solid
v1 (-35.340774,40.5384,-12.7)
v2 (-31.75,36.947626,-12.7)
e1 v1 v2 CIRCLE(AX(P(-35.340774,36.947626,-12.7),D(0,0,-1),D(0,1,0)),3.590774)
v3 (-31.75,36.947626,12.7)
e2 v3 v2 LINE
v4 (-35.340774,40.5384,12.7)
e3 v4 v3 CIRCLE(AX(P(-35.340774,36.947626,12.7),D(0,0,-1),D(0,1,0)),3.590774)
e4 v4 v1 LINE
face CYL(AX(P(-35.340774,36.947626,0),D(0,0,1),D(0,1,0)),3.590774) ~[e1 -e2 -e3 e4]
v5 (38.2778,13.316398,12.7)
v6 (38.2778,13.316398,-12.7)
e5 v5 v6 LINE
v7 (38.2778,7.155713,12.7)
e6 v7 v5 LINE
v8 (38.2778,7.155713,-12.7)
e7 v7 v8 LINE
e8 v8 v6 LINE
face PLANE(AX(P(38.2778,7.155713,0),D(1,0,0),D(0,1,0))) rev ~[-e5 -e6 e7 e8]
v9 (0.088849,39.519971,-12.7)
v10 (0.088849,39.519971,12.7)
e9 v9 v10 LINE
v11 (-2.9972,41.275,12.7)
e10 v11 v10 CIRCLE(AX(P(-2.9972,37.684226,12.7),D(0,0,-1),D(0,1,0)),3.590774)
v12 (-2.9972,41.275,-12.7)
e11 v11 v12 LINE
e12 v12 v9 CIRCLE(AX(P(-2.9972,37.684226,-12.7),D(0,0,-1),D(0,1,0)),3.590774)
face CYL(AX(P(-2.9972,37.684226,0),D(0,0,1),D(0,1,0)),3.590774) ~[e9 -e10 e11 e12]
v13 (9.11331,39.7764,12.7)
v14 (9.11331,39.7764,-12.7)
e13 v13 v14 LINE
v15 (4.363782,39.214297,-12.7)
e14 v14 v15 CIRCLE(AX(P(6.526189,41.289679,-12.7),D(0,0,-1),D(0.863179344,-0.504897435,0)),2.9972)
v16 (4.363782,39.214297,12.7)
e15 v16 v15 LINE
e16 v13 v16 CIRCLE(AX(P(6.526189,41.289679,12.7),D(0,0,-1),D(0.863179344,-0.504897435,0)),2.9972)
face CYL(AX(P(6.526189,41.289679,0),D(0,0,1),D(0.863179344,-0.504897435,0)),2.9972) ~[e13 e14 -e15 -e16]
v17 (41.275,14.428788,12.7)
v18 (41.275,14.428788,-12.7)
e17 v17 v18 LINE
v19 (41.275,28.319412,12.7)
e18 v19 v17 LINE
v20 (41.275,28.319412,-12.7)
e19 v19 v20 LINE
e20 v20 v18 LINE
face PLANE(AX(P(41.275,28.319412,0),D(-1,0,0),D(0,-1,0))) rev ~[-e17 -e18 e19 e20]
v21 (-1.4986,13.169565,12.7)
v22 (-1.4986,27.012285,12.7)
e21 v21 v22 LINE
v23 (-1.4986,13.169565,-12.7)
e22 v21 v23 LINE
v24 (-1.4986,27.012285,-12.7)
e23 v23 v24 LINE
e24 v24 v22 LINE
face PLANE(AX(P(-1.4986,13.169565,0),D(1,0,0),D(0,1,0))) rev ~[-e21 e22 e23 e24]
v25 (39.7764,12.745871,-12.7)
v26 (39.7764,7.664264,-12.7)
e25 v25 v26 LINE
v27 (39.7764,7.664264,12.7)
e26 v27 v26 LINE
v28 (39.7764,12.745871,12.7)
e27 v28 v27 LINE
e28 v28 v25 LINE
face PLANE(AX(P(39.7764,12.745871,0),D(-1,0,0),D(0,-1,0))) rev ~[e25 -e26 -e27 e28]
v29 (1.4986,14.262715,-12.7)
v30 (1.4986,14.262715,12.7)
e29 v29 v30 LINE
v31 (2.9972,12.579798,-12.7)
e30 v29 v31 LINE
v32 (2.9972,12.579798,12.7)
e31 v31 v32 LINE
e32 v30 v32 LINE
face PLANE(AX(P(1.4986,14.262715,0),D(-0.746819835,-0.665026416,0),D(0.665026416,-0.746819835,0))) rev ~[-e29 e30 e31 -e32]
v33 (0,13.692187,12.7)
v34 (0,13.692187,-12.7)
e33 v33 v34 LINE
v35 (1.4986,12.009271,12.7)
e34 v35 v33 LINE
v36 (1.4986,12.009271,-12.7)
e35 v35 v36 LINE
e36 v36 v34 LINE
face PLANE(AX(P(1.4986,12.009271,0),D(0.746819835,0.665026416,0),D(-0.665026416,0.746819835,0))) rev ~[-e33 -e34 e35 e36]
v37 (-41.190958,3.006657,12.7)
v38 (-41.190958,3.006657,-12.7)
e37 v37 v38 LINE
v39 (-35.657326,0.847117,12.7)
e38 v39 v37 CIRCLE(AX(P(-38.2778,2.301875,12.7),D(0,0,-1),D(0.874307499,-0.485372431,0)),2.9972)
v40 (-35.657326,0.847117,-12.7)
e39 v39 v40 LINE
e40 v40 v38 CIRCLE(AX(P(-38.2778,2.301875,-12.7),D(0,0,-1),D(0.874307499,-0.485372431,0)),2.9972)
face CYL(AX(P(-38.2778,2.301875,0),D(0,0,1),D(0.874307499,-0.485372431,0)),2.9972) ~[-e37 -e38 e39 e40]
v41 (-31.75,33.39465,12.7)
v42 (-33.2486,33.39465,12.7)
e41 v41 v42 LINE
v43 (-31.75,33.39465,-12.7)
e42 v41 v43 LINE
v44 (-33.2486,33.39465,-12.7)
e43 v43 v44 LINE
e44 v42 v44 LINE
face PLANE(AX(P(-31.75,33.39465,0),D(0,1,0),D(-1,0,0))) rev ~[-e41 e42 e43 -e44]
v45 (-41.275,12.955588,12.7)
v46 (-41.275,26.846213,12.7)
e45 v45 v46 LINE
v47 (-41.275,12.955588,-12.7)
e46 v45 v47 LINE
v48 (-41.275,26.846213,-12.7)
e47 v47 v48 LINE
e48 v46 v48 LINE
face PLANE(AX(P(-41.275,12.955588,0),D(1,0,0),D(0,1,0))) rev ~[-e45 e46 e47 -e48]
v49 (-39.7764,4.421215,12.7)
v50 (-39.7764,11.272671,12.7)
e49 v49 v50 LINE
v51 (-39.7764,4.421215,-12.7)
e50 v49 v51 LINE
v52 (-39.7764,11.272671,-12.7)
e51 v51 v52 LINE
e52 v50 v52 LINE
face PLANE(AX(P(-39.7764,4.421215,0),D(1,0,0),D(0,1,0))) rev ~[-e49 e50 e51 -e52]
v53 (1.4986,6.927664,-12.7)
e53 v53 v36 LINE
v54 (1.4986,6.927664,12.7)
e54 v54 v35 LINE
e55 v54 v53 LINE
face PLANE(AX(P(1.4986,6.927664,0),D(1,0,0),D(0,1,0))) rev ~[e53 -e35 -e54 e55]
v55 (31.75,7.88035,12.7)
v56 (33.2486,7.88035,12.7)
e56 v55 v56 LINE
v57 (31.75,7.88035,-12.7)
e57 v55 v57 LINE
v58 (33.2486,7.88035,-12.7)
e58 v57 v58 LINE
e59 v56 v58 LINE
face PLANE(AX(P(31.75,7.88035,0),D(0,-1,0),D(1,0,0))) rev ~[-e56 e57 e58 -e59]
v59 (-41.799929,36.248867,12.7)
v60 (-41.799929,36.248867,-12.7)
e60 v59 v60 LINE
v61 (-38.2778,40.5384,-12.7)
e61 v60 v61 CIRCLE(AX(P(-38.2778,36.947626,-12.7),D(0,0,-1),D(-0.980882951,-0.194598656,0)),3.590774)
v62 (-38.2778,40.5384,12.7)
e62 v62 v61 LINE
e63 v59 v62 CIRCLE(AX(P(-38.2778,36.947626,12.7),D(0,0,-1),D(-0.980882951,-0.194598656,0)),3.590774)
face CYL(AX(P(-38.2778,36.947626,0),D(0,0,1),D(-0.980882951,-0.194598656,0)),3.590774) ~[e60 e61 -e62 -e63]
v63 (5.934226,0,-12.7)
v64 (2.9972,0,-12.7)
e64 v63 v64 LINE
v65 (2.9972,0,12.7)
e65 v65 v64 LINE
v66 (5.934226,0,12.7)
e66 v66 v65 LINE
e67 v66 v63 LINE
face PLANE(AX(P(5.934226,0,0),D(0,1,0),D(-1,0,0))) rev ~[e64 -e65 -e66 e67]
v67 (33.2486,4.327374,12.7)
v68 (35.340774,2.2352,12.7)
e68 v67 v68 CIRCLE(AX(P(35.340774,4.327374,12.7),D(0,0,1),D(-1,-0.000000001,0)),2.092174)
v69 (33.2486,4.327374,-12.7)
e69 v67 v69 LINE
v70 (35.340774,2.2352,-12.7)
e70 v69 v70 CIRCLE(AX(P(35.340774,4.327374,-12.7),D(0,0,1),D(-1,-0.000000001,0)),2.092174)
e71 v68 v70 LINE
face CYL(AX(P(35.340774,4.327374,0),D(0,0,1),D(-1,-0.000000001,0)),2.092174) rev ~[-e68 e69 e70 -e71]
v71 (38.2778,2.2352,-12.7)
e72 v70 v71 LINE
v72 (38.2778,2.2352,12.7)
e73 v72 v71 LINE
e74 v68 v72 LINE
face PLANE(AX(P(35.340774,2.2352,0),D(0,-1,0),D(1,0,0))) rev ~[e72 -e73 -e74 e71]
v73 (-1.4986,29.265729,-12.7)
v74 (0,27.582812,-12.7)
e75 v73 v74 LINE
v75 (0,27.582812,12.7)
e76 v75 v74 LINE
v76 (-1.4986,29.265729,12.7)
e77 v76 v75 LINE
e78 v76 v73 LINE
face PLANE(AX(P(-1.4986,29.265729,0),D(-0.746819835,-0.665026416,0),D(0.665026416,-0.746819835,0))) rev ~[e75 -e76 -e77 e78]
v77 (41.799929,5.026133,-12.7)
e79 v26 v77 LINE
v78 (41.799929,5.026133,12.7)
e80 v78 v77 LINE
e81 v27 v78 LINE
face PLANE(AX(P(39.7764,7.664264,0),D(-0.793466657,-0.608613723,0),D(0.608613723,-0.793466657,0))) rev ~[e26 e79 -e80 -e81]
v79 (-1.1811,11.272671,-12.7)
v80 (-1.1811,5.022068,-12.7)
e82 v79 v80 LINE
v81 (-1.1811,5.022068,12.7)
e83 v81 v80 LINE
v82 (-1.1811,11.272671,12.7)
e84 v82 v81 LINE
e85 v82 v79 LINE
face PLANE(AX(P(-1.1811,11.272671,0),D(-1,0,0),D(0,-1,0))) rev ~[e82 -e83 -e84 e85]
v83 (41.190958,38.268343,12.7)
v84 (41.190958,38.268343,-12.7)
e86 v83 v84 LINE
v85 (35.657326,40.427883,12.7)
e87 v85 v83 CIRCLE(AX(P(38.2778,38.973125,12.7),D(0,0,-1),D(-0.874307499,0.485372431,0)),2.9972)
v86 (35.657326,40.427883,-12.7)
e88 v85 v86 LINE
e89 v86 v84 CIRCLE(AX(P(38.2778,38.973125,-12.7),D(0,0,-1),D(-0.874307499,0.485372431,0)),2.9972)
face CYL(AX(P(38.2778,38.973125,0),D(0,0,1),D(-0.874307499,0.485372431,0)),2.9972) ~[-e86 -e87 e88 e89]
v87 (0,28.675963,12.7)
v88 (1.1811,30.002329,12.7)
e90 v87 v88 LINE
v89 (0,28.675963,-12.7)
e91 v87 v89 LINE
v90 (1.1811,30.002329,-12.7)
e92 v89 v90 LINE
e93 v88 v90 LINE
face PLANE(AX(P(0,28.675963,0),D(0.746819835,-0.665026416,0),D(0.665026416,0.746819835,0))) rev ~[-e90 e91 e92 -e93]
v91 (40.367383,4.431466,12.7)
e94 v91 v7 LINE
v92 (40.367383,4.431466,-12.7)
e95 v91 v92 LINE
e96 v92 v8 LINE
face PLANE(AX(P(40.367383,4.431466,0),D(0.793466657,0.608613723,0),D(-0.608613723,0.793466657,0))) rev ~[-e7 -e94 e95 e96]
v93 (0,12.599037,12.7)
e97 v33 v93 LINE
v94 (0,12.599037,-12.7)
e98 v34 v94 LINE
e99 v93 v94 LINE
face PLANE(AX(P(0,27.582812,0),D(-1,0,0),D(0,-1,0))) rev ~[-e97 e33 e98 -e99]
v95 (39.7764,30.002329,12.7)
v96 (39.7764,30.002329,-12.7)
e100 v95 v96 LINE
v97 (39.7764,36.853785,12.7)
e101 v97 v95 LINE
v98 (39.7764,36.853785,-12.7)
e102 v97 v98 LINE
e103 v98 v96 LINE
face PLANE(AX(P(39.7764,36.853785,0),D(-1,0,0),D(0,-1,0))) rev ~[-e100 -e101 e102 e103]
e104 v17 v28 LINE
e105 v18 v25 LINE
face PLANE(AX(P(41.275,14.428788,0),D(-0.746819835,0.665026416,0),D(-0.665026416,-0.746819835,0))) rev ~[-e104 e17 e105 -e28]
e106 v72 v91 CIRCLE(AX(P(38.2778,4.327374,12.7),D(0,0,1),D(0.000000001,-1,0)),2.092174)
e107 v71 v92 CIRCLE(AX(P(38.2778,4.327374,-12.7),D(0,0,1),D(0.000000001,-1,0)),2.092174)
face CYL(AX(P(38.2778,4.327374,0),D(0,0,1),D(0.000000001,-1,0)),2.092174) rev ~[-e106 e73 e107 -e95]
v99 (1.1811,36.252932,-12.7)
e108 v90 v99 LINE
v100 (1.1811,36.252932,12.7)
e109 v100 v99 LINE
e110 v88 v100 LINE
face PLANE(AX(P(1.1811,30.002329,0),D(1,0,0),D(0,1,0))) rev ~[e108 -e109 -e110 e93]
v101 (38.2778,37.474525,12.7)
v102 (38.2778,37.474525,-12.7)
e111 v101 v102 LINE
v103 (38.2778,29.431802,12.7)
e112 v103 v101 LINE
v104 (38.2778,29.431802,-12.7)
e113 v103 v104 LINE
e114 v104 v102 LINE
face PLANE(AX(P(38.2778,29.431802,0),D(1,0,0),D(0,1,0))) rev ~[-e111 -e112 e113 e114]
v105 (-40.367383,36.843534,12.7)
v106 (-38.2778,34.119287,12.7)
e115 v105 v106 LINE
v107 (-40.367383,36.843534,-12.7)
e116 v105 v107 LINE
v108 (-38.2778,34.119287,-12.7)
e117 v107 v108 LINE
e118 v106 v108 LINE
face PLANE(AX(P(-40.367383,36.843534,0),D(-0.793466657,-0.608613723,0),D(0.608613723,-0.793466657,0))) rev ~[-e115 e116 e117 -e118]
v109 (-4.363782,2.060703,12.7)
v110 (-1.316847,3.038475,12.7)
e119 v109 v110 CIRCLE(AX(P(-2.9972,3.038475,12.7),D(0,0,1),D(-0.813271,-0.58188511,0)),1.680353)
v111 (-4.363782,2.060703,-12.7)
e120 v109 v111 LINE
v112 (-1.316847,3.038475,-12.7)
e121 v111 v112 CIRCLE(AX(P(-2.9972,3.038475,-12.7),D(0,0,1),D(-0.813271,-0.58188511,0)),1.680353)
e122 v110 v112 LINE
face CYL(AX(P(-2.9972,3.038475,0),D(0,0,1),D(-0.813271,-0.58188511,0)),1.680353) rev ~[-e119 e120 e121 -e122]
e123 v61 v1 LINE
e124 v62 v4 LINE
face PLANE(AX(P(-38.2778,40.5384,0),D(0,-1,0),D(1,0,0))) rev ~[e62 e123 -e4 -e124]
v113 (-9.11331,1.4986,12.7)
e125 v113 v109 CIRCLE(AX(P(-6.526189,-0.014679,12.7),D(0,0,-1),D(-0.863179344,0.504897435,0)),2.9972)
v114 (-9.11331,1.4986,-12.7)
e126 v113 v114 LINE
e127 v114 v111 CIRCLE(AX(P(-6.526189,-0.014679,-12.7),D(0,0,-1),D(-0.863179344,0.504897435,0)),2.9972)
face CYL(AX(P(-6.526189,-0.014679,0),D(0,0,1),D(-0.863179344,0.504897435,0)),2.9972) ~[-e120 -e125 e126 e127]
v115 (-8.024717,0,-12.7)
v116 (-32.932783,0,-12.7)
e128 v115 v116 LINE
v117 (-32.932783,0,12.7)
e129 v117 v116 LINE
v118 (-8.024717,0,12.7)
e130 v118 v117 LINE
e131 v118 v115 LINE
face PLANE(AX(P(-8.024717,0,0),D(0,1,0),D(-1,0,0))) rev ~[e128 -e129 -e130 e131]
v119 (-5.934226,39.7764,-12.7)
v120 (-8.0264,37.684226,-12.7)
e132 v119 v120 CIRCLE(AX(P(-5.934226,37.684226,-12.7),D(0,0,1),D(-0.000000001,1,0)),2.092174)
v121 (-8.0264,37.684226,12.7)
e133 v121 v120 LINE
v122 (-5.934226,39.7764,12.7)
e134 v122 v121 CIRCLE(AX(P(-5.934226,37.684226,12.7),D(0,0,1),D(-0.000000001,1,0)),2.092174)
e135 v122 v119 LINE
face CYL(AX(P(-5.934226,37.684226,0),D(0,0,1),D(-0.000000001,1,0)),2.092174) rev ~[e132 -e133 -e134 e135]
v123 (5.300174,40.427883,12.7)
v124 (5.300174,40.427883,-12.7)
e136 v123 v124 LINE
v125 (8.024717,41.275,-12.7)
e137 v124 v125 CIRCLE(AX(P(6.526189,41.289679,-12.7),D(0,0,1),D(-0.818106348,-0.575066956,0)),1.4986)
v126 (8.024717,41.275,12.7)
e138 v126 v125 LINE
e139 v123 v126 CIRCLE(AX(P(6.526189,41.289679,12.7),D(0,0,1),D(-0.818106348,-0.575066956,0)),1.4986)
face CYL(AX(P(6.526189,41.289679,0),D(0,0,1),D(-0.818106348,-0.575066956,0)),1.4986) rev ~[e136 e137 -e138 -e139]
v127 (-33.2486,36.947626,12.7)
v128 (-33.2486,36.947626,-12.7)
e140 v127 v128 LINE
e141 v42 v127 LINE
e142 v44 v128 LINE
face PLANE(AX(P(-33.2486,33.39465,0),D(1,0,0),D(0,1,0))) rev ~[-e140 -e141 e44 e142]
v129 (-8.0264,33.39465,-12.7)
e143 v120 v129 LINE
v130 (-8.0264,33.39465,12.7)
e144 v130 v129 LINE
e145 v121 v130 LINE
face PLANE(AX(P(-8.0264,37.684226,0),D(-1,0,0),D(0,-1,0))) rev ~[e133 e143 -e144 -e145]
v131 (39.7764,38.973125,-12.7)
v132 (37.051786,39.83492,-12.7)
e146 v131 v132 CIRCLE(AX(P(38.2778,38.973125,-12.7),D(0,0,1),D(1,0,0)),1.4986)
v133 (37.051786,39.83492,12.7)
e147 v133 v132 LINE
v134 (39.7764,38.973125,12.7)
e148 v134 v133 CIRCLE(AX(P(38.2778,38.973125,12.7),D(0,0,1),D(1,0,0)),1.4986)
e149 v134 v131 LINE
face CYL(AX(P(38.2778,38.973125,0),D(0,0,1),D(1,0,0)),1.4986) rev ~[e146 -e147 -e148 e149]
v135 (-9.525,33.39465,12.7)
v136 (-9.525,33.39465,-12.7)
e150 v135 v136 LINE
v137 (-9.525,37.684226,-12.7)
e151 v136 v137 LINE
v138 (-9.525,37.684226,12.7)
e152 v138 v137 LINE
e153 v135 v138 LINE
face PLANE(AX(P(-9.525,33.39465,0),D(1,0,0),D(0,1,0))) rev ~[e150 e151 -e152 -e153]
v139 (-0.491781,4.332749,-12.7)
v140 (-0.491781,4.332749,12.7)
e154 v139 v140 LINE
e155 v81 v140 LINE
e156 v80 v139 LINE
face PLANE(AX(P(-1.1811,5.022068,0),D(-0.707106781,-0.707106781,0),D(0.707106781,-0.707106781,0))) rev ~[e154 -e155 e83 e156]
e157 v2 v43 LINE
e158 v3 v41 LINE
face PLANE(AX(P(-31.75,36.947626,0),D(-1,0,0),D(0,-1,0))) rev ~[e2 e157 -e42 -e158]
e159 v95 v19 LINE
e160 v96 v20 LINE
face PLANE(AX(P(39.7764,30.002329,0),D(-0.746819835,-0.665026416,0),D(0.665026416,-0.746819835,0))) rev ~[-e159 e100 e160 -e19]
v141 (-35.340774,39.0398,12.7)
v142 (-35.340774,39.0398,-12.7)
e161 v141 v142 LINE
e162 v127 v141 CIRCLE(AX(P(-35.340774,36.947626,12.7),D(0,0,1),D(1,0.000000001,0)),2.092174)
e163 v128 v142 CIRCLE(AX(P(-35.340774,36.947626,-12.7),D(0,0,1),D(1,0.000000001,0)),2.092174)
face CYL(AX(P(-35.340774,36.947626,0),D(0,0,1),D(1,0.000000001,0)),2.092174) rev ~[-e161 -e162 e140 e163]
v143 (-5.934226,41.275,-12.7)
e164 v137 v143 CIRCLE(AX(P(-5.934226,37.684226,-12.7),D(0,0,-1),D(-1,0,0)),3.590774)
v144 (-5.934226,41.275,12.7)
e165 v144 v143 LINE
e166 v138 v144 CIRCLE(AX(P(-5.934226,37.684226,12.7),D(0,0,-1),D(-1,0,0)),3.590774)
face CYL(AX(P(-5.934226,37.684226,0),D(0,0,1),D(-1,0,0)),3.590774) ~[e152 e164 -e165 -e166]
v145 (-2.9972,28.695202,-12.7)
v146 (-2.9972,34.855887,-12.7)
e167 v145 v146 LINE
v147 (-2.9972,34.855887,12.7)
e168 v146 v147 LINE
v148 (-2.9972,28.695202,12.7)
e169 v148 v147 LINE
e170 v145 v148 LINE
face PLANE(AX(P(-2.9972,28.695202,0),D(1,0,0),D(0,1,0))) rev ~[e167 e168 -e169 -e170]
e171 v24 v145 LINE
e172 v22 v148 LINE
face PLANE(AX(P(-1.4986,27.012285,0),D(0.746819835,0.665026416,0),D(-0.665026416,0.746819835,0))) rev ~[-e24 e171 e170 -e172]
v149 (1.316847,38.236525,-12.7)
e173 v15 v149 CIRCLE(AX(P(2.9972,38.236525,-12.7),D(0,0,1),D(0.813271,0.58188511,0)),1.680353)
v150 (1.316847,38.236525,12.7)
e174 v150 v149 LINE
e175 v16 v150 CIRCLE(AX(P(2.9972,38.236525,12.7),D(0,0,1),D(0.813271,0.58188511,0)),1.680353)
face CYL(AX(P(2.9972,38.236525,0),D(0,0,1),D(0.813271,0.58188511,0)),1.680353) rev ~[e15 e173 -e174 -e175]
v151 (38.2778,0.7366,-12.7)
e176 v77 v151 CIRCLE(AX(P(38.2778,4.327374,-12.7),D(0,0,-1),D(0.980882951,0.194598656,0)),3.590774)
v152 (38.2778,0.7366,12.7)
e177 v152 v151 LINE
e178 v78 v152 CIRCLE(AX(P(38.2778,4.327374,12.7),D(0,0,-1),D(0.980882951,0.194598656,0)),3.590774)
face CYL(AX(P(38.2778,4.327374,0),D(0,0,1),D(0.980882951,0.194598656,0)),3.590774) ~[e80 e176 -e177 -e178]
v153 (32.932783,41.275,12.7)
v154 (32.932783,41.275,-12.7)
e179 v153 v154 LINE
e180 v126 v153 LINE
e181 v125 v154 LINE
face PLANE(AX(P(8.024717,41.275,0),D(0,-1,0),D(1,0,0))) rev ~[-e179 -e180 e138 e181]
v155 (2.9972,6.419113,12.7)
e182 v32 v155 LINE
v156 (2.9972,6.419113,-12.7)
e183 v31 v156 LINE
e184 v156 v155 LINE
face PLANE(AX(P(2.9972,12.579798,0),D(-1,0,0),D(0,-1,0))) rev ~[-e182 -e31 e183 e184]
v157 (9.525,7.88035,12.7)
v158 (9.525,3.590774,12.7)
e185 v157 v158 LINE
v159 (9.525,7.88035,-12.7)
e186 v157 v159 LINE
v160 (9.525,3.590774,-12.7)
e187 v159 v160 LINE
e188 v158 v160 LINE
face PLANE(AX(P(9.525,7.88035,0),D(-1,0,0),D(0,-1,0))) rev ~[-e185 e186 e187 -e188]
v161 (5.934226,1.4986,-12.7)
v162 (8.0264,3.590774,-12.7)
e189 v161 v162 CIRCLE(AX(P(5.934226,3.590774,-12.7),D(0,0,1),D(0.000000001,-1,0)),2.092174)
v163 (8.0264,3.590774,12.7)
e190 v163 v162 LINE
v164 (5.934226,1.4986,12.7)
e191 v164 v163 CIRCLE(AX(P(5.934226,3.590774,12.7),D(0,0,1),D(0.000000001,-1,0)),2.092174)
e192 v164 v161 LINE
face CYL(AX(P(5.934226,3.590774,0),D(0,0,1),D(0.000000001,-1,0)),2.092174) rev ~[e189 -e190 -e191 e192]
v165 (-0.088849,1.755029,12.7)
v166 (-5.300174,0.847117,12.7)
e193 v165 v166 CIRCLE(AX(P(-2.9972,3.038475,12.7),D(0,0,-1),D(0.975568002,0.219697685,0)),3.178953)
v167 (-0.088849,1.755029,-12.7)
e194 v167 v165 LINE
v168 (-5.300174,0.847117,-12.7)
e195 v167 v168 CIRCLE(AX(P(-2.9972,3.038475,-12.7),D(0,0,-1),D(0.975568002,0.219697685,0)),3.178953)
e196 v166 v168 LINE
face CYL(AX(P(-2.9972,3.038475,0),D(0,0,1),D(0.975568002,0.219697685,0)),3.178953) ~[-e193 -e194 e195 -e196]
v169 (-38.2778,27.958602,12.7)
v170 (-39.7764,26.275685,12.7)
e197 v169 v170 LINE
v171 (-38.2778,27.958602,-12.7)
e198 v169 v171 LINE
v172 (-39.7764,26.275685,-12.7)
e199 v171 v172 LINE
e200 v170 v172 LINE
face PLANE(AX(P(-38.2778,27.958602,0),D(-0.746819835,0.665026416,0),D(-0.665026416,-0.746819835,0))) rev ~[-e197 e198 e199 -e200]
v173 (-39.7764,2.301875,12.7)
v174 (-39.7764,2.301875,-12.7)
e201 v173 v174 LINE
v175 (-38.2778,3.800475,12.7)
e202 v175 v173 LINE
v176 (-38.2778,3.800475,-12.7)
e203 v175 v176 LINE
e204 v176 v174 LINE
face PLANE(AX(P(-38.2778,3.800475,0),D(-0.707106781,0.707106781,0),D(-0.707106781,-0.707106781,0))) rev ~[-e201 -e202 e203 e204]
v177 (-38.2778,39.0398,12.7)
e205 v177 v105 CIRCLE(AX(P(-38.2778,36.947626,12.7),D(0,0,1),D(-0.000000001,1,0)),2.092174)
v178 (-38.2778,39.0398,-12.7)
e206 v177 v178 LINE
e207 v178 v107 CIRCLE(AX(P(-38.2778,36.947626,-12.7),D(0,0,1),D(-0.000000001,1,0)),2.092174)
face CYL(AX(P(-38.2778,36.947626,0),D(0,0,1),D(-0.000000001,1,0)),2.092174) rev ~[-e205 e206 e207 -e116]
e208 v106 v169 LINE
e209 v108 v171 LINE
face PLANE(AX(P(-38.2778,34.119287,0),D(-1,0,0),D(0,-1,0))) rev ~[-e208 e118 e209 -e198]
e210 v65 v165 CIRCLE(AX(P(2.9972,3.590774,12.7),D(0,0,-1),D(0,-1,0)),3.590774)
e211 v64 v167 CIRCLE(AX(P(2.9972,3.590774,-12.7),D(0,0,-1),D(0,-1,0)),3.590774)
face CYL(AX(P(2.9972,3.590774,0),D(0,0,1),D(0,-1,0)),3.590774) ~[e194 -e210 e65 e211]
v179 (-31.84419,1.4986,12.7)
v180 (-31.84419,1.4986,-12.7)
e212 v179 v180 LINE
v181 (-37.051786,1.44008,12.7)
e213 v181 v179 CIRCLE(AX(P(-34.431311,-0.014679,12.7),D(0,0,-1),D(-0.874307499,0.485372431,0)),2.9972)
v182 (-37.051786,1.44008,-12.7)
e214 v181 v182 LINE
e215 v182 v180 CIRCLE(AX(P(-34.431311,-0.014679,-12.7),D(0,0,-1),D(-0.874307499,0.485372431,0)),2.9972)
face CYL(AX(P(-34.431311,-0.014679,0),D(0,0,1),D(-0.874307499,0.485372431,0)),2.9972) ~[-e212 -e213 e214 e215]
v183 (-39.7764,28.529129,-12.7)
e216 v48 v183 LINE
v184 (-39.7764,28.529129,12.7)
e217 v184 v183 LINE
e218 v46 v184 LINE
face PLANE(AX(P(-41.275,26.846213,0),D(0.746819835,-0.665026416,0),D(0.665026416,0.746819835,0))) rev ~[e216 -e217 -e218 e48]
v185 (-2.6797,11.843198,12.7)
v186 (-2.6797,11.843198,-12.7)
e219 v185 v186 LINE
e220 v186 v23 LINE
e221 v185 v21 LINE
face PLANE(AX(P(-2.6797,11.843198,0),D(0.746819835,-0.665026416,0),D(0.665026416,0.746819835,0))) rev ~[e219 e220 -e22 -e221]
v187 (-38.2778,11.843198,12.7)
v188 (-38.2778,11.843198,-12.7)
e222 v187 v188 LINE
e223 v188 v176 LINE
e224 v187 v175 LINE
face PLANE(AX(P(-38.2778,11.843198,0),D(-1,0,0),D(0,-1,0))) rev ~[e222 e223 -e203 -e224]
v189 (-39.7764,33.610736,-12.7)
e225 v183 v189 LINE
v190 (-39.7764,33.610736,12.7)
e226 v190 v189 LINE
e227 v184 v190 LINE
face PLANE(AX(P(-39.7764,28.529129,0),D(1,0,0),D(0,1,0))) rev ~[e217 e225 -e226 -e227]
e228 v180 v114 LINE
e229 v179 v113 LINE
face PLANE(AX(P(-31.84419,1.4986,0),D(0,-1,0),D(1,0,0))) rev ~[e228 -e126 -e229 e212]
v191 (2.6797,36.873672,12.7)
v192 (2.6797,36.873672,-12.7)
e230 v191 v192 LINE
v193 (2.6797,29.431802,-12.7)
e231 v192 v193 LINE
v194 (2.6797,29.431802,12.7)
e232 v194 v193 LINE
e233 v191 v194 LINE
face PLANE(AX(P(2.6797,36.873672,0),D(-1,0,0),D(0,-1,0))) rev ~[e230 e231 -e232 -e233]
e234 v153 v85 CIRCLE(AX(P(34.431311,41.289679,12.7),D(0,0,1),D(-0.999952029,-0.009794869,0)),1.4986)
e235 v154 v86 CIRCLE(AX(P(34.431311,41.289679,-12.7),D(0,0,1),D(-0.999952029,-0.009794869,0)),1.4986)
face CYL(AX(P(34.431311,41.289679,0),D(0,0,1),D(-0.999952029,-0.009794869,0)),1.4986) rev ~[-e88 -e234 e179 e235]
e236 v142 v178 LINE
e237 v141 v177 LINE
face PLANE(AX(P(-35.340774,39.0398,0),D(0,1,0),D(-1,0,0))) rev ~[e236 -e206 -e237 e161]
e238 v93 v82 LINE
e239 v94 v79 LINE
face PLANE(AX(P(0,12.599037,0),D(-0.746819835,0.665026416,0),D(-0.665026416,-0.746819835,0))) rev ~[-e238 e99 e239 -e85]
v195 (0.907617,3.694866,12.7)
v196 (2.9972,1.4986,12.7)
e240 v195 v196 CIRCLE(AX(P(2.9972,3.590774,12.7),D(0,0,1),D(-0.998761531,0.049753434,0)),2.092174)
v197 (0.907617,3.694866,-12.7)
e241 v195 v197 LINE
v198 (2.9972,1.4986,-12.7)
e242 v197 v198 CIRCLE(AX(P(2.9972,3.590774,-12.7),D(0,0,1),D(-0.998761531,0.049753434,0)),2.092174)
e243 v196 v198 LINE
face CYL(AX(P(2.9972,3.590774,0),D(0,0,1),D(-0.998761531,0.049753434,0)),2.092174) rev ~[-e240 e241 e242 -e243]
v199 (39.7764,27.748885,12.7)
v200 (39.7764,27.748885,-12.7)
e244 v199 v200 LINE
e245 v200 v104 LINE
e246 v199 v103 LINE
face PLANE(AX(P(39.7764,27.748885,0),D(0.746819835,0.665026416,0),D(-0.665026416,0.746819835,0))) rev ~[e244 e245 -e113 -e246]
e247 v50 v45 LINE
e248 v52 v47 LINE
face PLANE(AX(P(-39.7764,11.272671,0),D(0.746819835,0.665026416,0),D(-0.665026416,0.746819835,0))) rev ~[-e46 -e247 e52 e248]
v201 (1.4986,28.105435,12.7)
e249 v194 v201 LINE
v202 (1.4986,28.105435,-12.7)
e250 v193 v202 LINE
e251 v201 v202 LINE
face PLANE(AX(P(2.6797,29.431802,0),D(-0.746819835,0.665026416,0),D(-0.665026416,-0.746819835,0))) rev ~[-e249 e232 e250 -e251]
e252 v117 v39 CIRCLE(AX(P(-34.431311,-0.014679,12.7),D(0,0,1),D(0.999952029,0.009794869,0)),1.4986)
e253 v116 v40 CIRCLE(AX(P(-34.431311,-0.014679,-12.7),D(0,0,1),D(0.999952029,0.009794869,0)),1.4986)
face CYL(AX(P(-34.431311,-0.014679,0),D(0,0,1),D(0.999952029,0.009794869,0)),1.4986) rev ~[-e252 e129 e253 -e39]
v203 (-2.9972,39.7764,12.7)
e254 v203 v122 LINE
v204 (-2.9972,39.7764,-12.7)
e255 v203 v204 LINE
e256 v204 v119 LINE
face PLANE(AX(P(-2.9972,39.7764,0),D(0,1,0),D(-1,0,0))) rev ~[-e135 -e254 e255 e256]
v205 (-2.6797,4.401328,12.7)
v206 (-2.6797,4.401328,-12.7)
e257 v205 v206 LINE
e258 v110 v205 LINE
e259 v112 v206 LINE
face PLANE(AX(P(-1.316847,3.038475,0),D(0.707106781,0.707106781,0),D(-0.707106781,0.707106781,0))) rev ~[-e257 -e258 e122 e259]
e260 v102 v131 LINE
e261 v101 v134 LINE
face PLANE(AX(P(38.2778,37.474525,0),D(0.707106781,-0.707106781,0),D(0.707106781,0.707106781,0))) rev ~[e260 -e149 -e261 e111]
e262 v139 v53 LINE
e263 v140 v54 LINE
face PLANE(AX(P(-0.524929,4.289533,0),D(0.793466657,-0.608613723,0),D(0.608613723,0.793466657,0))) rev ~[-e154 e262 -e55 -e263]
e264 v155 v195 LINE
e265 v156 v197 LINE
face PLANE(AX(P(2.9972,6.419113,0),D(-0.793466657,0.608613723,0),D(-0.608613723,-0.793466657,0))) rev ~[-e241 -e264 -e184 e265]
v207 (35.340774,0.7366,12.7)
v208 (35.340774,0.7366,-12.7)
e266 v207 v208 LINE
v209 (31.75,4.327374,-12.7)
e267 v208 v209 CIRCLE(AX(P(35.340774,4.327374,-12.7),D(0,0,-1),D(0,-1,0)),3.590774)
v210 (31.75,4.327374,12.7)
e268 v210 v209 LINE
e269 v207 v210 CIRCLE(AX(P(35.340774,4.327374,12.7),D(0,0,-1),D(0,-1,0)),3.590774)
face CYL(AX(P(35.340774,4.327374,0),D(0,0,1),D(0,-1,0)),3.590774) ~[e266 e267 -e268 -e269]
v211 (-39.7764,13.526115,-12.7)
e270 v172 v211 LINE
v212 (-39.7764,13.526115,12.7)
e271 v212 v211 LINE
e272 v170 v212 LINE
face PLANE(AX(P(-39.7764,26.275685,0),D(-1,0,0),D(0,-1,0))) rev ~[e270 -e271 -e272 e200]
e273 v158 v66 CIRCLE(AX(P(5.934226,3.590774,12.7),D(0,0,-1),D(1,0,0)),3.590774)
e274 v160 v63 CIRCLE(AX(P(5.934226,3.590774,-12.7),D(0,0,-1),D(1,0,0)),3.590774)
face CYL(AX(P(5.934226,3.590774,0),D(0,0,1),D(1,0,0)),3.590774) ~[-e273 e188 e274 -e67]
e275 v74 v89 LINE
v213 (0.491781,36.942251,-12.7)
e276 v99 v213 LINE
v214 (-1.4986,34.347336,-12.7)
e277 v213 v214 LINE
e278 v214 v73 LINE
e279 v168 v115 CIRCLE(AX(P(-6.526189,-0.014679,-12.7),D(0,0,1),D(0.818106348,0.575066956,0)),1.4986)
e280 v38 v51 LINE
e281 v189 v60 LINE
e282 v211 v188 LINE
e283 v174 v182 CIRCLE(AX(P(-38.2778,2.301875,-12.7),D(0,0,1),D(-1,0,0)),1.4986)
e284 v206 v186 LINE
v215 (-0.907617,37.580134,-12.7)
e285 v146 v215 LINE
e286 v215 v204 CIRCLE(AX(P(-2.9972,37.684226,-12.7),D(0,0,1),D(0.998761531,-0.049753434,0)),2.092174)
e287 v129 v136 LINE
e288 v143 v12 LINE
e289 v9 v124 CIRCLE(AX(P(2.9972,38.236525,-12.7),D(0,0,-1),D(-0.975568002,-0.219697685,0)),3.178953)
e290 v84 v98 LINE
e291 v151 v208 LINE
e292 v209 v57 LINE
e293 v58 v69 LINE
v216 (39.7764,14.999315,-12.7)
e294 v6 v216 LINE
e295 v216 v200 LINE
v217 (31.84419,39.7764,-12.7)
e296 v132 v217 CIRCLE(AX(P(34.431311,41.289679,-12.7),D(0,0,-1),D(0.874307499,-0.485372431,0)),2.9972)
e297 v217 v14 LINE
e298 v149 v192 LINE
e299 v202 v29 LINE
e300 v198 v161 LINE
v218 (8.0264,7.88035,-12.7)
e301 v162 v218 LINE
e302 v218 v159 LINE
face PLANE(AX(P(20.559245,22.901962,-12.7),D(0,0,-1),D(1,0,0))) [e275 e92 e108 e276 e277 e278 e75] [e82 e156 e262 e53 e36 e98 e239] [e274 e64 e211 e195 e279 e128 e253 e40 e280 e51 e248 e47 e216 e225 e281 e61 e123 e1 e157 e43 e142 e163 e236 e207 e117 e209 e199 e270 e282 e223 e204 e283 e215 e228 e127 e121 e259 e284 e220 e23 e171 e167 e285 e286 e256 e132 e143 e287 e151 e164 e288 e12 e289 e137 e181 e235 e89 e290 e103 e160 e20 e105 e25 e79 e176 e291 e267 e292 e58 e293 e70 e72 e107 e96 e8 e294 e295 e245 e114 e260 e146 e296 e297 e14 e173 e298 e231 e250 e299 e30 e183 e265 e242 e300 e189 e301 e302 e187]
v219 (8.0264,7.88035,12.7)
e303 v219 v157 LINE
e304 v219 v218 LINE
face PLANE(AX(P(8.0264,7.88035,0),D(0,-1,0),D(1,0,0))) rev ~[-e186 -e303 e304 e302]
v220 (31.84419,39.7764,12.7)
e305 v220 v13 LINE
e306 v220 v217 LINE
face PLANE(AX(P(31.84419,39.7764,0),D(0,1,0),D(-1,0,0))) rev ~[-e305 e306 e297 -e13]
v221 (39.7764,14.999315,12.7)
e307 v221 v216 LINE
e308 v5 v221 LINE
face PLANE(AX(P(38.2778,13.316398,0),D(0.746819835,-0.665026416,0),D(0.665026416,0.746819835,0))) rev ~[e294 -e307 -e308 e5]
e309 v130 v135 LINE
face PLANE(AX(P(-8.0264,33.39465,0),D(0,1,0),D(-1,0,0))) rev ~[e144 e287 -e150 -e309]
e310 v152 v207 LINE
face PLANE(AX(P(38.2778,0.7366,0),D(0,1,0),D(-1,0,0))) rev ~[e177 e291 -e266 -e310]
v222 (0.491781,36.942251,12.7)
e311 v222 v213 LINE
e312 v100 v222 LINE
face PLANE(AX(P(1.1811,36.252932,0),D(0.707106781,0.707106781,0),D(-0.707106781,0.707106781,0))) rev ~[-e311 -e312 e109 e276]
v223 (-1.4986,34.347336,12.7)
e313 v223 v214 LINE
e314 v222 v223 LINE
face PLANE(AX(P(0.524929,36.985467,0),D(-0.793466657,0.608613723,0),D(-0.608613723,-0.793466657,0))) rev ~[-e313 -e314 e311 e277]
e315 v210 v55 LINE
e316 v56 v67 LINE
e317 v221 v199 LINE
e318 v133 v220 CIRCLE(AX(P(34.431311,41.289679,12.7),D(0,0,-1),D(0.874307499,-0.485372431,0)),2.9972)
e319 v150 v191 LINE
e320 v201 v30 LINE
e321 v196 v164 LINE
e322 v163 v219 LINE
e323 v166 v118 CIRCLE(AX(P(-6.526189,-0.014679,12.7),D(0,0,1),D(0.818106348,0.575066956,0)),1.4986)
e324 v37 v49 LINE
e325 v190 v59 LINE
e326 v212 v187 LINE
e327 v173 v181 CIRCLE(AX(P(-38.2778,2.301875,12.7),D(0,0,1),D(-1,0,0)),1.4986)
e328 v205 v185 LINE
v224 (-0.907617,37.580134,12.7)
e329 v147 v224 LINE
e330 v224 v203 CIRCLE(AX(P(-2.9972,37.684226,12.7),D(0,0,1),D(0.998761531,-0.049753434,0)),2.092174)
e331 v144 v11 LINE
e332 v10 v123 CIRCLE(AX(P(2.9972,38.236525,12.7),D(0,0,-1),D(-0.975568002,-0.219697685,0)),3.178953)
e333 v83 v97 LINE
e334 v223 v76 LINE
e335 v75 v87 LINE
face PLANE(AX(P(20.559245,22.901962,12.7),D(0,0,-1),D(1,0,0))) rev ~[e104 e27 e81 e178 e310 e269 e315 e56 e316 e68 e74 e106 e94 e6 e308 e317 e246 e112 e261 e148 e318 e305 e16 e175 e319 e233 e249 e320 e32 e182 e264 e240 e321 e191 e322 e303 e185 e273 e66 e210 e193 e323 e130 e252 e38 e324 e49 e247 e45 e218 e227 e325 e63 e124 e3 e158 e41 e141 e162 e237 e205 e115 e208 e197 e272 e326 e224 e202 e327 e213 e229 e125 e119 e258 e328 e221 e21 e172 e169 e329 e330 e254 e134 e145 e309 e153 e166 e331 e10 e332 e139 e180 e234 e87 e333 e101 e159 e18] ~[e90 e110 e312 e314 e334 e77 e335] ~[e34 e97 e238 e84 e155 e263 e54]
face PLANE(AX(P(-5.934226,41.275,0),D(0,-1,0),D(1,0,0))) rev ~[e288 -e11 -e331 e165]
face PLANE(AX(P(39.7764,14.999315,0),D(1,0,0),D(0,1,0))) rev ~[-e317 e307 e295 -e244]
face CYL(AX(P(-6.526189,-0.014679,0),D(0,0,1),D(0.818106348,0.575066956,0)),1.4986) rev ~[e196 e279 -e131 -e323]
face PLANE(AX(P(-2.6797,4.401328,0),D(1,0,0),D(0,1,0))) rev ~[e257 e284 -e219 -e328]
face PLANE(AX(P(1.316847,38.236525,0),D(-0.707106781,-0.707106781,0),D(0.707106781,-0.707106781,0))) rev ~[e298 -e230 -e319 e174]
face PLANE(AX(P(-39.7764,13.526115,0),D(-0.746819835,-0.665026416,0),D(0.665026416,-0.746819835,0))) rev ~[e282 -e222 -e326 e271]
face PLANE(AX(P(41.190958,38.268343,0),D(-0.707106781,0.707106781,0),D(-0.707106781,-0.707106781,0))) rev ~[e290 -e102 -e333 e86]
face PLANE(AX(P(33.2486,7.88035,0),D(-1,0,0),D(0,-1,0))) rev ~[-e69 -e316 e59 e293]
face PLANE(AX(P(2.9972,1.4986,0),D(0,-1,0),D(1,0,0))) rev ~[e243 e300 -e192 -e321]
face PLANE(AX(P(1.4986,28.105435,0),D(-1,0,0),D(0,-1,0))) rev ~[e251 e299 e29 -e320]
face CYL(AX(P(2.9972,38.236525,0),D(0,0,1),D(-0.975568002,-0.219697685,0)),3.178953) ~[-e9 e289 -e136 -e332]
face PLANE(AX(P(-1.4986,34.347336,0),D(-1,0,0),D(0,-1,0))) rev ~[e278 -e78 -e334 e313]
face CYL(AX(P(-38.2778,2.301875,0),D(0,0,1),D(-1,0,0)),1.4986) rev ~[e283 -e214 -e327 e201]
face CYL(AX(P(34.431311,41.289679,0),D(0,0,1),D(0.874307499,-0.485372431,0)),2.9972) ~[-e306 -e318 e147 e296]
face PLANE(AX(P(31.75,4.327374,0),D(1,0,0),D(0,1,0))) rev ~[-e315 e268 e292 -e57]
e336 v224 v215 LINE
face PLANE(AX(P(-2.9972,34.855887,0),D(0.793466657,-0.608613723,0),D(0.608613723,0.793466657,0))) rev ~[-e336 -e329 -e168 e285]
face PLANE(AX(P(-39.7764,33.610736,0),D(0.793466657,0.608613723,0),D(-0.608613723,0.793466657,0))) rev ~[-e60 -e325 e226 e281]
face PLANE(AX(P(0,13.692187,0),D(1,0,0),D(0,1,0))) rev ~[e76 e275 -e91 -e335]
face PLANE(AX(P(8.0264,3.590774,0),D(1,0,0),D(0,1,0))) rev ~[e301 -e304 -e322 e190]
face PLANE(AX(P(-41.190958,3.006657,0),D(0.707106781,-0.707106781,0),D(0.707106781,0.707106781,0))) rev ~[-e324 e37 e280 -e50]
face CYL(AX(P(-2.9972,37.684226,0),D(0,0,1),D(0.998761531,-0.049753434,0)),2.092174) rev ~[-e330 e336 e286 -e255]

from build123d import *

# Parameters (mm, degrees)
BASE_EXTRUDE_DEPTH = 12.7
CIRPATTERN1_COUNT  = 2


with BuildPart() as part:
    # Sketch1 → Base-Extrude (new, symmetric)
    with BuildSketch(Plane(origin=(-20.32, 17.78, 0), x_dir=(1, 0, 0), z_dir=(0, 0, 1))):
        with BuildLine():
            Line((17.3228, 17.075886512), (19.412382578, 19.800133504))
            ThreePointArc((19.412382578, 19.800133504), (18.838545845, 21.346344632), (17.3228, 21.9964))
            Line((17.3228, 21.9964), (14.38577367, 21.9964))
            ThreePointArc((14.38577367, 21.9964), (12.906383481, 21.383616519), (12.2936, 19.90422633))
            Line((12.2936, 19.90422633), (12.2936, 15.61465))
            Line((12.2936, 15.61465), (10.795, 15.61465))
            Line((10.795, 15.61465), (10.795, 19.90422633))
            ThreePointArc((10.795, 19.90422633), (11.846713258, 22.443286742), (14.38577367, 23.495))
            Line((14.38577367, 23.495), (17.3228, 23.495))
            ThreePointArc((17.3228, 23.495), (20.097934554, 22.182884653), (20.844928673, 19.2054666))
            Line((20.844928673, 19.2054666), (18.8214, 16.567335923))
            Line((18.8214, 16.567335923), (18.8214, 11.485729415))
            Line((18.8214, 11.485729415), (20.32, 9.8028125))
            Line((20.32, 9.8028125), (20.32, -5.180962694))
            Line((20.32, -5.180962694), (19.1389, -6.507329415))
            Line((19.1389, -6.507329415), (19.1389, -12.757931546))
            Line((19.1389, -12.757931546), (20.424084837, -14.043116383))
            ThreePointArc((20.424084837, -14.043116383), (18.821804006, -17.54486751), (15.019825564, -16.932883251))
            ThreePointArc((15.019825564, -16.932883251), (13.348875824, -16.363652979), (12.29528328, -17.78))
            Line((12.29528328, -17.78), (-12.61278328, -17.78))
            ThreePointArc((-12.61278328, -17.78), (-13.666375824, -16.363652979), (-15.337325564, -16.932883251))
            ThreePointArc((-15.337325564, -16.932883251), (-19.047442105, -18.270236732), (-20.870958003, -14.773342558))
            Line((-20.870958003, -14.773342558), (-19.4564, -13.358784555))
            Line((-19.4564, -13.358784555), (-19.4564, -6.507329415))
            Line((-19.4564, -6.507329415), (-20.955, -4.8244125))
            Line((-20.955, -4.8244125), (-20.955, 9.0662125))
            Line((-20.955, 9.0662125), (-19.4564, 10.749129415))
            Line((-19.4564, 10.749129415), (-19.4564, 15.830735923))
            Line((-19.4564, 15.830735923), (-21.479928673, 18.4688666))
            ThreePointArc((-21.479928673, 18.4688666), (-20.732934554, 21.446284653), (-17.9578, 22.7584))
            Line((-17.9578, 22.7584), (-15.02077367, 22.7584))
            ThreePointArc((-15.02077367, 22.7584), (-12.481713258, 21.706686742), (-11.43, 19.16762633))
            Line((-11.43, 19.16762633), (-11.43, 15.61465))
            Line((-11.43, 15.61465), (-12.9286, 15.61465))
            Line((-12.9286, 15.61465), (-12.9286, 19.16762633))
            ThreePointArc((-12.9286, 19.16762633), (-13.541383481, 20.647016519), (-15.02077367, 21.2598))
            Line((-15.02077367, 21.2598), (-17.9578, 21.2598))
            ThreePointArc((-17.9578, 21.2598), (-19.473545845, 20.609744632), (-20.047382578, 19.063533504))
            Line((-20.047382578, 19.063533504), (-17.9578, 16.339286512))
            Line((-17.9578, 16.339286512), (-17.9578, 10.17860201))
            Line((-17.9578, 10.17860201), (-19.4564, 8.495685095))
            Line((-19.4564, 8.495685095), (-19.4564, -4.253885095))
            Line((-19.4564, -4.253885095), (-17.9578, -5.93680201))
            Line((-17.9578, -5.93680201), (-17.9578, -13.979525))
            Line((-17.9578, -13.979525), (-19.4564, -15.478125))
            ThreePointArc((-19.4564, -15.478125), (-18.409738669, -16.906954381), (-16.731785827, -16.33992034))
            ThreePointArc((-16.731785827, -16.33992034), (-14.14499029, -14.797667818), (-11.524190259, -16.2814))
            Line((-11.524190259, -16.2814), (11.206690259, -16.2814))
            ThreePointArc((11.206690259, -16.2814), (13.441553644, -14.818250812), (15.956217628, -15.719297395))
            ThreePointArc((15.956217628, -15.719297395), (17.836242029, -16.3415136), (19.00315301, -14.741525))
            Line((19.00315301, -14.741525), (17.6403, -13.37867199))
            Line((17.6403, -13.37867199), (17.6403, -5.93680201))
            Line((17.6403, -5.93680201), (18.8214, -4.610435289))
            Line((18.8214, -4.610435289), (18.8214, 9.232285095))
            Line((18.8214, 9.232285095), (17.3228, 10.91520201))
            Line((17.3228, 10.91520201), (17.3228, 17.075886512))
        make_face()
    base_extrude = extrude(amount=BASE_EXTRUDE_DEPTH, both=True)

    # CirPattern1: Base-Extrude ×2 about axis
    cirpattern1_axis = Axis((0, 20.6375, 0), (0, 0, 1))
    for i in range(1, CIRPATTERN1_COUNT):
        add(base_extrude.rotate(cirpattern1_axis, i * 360 / CIRPATTERN1_COUNT))


solid = part.part
